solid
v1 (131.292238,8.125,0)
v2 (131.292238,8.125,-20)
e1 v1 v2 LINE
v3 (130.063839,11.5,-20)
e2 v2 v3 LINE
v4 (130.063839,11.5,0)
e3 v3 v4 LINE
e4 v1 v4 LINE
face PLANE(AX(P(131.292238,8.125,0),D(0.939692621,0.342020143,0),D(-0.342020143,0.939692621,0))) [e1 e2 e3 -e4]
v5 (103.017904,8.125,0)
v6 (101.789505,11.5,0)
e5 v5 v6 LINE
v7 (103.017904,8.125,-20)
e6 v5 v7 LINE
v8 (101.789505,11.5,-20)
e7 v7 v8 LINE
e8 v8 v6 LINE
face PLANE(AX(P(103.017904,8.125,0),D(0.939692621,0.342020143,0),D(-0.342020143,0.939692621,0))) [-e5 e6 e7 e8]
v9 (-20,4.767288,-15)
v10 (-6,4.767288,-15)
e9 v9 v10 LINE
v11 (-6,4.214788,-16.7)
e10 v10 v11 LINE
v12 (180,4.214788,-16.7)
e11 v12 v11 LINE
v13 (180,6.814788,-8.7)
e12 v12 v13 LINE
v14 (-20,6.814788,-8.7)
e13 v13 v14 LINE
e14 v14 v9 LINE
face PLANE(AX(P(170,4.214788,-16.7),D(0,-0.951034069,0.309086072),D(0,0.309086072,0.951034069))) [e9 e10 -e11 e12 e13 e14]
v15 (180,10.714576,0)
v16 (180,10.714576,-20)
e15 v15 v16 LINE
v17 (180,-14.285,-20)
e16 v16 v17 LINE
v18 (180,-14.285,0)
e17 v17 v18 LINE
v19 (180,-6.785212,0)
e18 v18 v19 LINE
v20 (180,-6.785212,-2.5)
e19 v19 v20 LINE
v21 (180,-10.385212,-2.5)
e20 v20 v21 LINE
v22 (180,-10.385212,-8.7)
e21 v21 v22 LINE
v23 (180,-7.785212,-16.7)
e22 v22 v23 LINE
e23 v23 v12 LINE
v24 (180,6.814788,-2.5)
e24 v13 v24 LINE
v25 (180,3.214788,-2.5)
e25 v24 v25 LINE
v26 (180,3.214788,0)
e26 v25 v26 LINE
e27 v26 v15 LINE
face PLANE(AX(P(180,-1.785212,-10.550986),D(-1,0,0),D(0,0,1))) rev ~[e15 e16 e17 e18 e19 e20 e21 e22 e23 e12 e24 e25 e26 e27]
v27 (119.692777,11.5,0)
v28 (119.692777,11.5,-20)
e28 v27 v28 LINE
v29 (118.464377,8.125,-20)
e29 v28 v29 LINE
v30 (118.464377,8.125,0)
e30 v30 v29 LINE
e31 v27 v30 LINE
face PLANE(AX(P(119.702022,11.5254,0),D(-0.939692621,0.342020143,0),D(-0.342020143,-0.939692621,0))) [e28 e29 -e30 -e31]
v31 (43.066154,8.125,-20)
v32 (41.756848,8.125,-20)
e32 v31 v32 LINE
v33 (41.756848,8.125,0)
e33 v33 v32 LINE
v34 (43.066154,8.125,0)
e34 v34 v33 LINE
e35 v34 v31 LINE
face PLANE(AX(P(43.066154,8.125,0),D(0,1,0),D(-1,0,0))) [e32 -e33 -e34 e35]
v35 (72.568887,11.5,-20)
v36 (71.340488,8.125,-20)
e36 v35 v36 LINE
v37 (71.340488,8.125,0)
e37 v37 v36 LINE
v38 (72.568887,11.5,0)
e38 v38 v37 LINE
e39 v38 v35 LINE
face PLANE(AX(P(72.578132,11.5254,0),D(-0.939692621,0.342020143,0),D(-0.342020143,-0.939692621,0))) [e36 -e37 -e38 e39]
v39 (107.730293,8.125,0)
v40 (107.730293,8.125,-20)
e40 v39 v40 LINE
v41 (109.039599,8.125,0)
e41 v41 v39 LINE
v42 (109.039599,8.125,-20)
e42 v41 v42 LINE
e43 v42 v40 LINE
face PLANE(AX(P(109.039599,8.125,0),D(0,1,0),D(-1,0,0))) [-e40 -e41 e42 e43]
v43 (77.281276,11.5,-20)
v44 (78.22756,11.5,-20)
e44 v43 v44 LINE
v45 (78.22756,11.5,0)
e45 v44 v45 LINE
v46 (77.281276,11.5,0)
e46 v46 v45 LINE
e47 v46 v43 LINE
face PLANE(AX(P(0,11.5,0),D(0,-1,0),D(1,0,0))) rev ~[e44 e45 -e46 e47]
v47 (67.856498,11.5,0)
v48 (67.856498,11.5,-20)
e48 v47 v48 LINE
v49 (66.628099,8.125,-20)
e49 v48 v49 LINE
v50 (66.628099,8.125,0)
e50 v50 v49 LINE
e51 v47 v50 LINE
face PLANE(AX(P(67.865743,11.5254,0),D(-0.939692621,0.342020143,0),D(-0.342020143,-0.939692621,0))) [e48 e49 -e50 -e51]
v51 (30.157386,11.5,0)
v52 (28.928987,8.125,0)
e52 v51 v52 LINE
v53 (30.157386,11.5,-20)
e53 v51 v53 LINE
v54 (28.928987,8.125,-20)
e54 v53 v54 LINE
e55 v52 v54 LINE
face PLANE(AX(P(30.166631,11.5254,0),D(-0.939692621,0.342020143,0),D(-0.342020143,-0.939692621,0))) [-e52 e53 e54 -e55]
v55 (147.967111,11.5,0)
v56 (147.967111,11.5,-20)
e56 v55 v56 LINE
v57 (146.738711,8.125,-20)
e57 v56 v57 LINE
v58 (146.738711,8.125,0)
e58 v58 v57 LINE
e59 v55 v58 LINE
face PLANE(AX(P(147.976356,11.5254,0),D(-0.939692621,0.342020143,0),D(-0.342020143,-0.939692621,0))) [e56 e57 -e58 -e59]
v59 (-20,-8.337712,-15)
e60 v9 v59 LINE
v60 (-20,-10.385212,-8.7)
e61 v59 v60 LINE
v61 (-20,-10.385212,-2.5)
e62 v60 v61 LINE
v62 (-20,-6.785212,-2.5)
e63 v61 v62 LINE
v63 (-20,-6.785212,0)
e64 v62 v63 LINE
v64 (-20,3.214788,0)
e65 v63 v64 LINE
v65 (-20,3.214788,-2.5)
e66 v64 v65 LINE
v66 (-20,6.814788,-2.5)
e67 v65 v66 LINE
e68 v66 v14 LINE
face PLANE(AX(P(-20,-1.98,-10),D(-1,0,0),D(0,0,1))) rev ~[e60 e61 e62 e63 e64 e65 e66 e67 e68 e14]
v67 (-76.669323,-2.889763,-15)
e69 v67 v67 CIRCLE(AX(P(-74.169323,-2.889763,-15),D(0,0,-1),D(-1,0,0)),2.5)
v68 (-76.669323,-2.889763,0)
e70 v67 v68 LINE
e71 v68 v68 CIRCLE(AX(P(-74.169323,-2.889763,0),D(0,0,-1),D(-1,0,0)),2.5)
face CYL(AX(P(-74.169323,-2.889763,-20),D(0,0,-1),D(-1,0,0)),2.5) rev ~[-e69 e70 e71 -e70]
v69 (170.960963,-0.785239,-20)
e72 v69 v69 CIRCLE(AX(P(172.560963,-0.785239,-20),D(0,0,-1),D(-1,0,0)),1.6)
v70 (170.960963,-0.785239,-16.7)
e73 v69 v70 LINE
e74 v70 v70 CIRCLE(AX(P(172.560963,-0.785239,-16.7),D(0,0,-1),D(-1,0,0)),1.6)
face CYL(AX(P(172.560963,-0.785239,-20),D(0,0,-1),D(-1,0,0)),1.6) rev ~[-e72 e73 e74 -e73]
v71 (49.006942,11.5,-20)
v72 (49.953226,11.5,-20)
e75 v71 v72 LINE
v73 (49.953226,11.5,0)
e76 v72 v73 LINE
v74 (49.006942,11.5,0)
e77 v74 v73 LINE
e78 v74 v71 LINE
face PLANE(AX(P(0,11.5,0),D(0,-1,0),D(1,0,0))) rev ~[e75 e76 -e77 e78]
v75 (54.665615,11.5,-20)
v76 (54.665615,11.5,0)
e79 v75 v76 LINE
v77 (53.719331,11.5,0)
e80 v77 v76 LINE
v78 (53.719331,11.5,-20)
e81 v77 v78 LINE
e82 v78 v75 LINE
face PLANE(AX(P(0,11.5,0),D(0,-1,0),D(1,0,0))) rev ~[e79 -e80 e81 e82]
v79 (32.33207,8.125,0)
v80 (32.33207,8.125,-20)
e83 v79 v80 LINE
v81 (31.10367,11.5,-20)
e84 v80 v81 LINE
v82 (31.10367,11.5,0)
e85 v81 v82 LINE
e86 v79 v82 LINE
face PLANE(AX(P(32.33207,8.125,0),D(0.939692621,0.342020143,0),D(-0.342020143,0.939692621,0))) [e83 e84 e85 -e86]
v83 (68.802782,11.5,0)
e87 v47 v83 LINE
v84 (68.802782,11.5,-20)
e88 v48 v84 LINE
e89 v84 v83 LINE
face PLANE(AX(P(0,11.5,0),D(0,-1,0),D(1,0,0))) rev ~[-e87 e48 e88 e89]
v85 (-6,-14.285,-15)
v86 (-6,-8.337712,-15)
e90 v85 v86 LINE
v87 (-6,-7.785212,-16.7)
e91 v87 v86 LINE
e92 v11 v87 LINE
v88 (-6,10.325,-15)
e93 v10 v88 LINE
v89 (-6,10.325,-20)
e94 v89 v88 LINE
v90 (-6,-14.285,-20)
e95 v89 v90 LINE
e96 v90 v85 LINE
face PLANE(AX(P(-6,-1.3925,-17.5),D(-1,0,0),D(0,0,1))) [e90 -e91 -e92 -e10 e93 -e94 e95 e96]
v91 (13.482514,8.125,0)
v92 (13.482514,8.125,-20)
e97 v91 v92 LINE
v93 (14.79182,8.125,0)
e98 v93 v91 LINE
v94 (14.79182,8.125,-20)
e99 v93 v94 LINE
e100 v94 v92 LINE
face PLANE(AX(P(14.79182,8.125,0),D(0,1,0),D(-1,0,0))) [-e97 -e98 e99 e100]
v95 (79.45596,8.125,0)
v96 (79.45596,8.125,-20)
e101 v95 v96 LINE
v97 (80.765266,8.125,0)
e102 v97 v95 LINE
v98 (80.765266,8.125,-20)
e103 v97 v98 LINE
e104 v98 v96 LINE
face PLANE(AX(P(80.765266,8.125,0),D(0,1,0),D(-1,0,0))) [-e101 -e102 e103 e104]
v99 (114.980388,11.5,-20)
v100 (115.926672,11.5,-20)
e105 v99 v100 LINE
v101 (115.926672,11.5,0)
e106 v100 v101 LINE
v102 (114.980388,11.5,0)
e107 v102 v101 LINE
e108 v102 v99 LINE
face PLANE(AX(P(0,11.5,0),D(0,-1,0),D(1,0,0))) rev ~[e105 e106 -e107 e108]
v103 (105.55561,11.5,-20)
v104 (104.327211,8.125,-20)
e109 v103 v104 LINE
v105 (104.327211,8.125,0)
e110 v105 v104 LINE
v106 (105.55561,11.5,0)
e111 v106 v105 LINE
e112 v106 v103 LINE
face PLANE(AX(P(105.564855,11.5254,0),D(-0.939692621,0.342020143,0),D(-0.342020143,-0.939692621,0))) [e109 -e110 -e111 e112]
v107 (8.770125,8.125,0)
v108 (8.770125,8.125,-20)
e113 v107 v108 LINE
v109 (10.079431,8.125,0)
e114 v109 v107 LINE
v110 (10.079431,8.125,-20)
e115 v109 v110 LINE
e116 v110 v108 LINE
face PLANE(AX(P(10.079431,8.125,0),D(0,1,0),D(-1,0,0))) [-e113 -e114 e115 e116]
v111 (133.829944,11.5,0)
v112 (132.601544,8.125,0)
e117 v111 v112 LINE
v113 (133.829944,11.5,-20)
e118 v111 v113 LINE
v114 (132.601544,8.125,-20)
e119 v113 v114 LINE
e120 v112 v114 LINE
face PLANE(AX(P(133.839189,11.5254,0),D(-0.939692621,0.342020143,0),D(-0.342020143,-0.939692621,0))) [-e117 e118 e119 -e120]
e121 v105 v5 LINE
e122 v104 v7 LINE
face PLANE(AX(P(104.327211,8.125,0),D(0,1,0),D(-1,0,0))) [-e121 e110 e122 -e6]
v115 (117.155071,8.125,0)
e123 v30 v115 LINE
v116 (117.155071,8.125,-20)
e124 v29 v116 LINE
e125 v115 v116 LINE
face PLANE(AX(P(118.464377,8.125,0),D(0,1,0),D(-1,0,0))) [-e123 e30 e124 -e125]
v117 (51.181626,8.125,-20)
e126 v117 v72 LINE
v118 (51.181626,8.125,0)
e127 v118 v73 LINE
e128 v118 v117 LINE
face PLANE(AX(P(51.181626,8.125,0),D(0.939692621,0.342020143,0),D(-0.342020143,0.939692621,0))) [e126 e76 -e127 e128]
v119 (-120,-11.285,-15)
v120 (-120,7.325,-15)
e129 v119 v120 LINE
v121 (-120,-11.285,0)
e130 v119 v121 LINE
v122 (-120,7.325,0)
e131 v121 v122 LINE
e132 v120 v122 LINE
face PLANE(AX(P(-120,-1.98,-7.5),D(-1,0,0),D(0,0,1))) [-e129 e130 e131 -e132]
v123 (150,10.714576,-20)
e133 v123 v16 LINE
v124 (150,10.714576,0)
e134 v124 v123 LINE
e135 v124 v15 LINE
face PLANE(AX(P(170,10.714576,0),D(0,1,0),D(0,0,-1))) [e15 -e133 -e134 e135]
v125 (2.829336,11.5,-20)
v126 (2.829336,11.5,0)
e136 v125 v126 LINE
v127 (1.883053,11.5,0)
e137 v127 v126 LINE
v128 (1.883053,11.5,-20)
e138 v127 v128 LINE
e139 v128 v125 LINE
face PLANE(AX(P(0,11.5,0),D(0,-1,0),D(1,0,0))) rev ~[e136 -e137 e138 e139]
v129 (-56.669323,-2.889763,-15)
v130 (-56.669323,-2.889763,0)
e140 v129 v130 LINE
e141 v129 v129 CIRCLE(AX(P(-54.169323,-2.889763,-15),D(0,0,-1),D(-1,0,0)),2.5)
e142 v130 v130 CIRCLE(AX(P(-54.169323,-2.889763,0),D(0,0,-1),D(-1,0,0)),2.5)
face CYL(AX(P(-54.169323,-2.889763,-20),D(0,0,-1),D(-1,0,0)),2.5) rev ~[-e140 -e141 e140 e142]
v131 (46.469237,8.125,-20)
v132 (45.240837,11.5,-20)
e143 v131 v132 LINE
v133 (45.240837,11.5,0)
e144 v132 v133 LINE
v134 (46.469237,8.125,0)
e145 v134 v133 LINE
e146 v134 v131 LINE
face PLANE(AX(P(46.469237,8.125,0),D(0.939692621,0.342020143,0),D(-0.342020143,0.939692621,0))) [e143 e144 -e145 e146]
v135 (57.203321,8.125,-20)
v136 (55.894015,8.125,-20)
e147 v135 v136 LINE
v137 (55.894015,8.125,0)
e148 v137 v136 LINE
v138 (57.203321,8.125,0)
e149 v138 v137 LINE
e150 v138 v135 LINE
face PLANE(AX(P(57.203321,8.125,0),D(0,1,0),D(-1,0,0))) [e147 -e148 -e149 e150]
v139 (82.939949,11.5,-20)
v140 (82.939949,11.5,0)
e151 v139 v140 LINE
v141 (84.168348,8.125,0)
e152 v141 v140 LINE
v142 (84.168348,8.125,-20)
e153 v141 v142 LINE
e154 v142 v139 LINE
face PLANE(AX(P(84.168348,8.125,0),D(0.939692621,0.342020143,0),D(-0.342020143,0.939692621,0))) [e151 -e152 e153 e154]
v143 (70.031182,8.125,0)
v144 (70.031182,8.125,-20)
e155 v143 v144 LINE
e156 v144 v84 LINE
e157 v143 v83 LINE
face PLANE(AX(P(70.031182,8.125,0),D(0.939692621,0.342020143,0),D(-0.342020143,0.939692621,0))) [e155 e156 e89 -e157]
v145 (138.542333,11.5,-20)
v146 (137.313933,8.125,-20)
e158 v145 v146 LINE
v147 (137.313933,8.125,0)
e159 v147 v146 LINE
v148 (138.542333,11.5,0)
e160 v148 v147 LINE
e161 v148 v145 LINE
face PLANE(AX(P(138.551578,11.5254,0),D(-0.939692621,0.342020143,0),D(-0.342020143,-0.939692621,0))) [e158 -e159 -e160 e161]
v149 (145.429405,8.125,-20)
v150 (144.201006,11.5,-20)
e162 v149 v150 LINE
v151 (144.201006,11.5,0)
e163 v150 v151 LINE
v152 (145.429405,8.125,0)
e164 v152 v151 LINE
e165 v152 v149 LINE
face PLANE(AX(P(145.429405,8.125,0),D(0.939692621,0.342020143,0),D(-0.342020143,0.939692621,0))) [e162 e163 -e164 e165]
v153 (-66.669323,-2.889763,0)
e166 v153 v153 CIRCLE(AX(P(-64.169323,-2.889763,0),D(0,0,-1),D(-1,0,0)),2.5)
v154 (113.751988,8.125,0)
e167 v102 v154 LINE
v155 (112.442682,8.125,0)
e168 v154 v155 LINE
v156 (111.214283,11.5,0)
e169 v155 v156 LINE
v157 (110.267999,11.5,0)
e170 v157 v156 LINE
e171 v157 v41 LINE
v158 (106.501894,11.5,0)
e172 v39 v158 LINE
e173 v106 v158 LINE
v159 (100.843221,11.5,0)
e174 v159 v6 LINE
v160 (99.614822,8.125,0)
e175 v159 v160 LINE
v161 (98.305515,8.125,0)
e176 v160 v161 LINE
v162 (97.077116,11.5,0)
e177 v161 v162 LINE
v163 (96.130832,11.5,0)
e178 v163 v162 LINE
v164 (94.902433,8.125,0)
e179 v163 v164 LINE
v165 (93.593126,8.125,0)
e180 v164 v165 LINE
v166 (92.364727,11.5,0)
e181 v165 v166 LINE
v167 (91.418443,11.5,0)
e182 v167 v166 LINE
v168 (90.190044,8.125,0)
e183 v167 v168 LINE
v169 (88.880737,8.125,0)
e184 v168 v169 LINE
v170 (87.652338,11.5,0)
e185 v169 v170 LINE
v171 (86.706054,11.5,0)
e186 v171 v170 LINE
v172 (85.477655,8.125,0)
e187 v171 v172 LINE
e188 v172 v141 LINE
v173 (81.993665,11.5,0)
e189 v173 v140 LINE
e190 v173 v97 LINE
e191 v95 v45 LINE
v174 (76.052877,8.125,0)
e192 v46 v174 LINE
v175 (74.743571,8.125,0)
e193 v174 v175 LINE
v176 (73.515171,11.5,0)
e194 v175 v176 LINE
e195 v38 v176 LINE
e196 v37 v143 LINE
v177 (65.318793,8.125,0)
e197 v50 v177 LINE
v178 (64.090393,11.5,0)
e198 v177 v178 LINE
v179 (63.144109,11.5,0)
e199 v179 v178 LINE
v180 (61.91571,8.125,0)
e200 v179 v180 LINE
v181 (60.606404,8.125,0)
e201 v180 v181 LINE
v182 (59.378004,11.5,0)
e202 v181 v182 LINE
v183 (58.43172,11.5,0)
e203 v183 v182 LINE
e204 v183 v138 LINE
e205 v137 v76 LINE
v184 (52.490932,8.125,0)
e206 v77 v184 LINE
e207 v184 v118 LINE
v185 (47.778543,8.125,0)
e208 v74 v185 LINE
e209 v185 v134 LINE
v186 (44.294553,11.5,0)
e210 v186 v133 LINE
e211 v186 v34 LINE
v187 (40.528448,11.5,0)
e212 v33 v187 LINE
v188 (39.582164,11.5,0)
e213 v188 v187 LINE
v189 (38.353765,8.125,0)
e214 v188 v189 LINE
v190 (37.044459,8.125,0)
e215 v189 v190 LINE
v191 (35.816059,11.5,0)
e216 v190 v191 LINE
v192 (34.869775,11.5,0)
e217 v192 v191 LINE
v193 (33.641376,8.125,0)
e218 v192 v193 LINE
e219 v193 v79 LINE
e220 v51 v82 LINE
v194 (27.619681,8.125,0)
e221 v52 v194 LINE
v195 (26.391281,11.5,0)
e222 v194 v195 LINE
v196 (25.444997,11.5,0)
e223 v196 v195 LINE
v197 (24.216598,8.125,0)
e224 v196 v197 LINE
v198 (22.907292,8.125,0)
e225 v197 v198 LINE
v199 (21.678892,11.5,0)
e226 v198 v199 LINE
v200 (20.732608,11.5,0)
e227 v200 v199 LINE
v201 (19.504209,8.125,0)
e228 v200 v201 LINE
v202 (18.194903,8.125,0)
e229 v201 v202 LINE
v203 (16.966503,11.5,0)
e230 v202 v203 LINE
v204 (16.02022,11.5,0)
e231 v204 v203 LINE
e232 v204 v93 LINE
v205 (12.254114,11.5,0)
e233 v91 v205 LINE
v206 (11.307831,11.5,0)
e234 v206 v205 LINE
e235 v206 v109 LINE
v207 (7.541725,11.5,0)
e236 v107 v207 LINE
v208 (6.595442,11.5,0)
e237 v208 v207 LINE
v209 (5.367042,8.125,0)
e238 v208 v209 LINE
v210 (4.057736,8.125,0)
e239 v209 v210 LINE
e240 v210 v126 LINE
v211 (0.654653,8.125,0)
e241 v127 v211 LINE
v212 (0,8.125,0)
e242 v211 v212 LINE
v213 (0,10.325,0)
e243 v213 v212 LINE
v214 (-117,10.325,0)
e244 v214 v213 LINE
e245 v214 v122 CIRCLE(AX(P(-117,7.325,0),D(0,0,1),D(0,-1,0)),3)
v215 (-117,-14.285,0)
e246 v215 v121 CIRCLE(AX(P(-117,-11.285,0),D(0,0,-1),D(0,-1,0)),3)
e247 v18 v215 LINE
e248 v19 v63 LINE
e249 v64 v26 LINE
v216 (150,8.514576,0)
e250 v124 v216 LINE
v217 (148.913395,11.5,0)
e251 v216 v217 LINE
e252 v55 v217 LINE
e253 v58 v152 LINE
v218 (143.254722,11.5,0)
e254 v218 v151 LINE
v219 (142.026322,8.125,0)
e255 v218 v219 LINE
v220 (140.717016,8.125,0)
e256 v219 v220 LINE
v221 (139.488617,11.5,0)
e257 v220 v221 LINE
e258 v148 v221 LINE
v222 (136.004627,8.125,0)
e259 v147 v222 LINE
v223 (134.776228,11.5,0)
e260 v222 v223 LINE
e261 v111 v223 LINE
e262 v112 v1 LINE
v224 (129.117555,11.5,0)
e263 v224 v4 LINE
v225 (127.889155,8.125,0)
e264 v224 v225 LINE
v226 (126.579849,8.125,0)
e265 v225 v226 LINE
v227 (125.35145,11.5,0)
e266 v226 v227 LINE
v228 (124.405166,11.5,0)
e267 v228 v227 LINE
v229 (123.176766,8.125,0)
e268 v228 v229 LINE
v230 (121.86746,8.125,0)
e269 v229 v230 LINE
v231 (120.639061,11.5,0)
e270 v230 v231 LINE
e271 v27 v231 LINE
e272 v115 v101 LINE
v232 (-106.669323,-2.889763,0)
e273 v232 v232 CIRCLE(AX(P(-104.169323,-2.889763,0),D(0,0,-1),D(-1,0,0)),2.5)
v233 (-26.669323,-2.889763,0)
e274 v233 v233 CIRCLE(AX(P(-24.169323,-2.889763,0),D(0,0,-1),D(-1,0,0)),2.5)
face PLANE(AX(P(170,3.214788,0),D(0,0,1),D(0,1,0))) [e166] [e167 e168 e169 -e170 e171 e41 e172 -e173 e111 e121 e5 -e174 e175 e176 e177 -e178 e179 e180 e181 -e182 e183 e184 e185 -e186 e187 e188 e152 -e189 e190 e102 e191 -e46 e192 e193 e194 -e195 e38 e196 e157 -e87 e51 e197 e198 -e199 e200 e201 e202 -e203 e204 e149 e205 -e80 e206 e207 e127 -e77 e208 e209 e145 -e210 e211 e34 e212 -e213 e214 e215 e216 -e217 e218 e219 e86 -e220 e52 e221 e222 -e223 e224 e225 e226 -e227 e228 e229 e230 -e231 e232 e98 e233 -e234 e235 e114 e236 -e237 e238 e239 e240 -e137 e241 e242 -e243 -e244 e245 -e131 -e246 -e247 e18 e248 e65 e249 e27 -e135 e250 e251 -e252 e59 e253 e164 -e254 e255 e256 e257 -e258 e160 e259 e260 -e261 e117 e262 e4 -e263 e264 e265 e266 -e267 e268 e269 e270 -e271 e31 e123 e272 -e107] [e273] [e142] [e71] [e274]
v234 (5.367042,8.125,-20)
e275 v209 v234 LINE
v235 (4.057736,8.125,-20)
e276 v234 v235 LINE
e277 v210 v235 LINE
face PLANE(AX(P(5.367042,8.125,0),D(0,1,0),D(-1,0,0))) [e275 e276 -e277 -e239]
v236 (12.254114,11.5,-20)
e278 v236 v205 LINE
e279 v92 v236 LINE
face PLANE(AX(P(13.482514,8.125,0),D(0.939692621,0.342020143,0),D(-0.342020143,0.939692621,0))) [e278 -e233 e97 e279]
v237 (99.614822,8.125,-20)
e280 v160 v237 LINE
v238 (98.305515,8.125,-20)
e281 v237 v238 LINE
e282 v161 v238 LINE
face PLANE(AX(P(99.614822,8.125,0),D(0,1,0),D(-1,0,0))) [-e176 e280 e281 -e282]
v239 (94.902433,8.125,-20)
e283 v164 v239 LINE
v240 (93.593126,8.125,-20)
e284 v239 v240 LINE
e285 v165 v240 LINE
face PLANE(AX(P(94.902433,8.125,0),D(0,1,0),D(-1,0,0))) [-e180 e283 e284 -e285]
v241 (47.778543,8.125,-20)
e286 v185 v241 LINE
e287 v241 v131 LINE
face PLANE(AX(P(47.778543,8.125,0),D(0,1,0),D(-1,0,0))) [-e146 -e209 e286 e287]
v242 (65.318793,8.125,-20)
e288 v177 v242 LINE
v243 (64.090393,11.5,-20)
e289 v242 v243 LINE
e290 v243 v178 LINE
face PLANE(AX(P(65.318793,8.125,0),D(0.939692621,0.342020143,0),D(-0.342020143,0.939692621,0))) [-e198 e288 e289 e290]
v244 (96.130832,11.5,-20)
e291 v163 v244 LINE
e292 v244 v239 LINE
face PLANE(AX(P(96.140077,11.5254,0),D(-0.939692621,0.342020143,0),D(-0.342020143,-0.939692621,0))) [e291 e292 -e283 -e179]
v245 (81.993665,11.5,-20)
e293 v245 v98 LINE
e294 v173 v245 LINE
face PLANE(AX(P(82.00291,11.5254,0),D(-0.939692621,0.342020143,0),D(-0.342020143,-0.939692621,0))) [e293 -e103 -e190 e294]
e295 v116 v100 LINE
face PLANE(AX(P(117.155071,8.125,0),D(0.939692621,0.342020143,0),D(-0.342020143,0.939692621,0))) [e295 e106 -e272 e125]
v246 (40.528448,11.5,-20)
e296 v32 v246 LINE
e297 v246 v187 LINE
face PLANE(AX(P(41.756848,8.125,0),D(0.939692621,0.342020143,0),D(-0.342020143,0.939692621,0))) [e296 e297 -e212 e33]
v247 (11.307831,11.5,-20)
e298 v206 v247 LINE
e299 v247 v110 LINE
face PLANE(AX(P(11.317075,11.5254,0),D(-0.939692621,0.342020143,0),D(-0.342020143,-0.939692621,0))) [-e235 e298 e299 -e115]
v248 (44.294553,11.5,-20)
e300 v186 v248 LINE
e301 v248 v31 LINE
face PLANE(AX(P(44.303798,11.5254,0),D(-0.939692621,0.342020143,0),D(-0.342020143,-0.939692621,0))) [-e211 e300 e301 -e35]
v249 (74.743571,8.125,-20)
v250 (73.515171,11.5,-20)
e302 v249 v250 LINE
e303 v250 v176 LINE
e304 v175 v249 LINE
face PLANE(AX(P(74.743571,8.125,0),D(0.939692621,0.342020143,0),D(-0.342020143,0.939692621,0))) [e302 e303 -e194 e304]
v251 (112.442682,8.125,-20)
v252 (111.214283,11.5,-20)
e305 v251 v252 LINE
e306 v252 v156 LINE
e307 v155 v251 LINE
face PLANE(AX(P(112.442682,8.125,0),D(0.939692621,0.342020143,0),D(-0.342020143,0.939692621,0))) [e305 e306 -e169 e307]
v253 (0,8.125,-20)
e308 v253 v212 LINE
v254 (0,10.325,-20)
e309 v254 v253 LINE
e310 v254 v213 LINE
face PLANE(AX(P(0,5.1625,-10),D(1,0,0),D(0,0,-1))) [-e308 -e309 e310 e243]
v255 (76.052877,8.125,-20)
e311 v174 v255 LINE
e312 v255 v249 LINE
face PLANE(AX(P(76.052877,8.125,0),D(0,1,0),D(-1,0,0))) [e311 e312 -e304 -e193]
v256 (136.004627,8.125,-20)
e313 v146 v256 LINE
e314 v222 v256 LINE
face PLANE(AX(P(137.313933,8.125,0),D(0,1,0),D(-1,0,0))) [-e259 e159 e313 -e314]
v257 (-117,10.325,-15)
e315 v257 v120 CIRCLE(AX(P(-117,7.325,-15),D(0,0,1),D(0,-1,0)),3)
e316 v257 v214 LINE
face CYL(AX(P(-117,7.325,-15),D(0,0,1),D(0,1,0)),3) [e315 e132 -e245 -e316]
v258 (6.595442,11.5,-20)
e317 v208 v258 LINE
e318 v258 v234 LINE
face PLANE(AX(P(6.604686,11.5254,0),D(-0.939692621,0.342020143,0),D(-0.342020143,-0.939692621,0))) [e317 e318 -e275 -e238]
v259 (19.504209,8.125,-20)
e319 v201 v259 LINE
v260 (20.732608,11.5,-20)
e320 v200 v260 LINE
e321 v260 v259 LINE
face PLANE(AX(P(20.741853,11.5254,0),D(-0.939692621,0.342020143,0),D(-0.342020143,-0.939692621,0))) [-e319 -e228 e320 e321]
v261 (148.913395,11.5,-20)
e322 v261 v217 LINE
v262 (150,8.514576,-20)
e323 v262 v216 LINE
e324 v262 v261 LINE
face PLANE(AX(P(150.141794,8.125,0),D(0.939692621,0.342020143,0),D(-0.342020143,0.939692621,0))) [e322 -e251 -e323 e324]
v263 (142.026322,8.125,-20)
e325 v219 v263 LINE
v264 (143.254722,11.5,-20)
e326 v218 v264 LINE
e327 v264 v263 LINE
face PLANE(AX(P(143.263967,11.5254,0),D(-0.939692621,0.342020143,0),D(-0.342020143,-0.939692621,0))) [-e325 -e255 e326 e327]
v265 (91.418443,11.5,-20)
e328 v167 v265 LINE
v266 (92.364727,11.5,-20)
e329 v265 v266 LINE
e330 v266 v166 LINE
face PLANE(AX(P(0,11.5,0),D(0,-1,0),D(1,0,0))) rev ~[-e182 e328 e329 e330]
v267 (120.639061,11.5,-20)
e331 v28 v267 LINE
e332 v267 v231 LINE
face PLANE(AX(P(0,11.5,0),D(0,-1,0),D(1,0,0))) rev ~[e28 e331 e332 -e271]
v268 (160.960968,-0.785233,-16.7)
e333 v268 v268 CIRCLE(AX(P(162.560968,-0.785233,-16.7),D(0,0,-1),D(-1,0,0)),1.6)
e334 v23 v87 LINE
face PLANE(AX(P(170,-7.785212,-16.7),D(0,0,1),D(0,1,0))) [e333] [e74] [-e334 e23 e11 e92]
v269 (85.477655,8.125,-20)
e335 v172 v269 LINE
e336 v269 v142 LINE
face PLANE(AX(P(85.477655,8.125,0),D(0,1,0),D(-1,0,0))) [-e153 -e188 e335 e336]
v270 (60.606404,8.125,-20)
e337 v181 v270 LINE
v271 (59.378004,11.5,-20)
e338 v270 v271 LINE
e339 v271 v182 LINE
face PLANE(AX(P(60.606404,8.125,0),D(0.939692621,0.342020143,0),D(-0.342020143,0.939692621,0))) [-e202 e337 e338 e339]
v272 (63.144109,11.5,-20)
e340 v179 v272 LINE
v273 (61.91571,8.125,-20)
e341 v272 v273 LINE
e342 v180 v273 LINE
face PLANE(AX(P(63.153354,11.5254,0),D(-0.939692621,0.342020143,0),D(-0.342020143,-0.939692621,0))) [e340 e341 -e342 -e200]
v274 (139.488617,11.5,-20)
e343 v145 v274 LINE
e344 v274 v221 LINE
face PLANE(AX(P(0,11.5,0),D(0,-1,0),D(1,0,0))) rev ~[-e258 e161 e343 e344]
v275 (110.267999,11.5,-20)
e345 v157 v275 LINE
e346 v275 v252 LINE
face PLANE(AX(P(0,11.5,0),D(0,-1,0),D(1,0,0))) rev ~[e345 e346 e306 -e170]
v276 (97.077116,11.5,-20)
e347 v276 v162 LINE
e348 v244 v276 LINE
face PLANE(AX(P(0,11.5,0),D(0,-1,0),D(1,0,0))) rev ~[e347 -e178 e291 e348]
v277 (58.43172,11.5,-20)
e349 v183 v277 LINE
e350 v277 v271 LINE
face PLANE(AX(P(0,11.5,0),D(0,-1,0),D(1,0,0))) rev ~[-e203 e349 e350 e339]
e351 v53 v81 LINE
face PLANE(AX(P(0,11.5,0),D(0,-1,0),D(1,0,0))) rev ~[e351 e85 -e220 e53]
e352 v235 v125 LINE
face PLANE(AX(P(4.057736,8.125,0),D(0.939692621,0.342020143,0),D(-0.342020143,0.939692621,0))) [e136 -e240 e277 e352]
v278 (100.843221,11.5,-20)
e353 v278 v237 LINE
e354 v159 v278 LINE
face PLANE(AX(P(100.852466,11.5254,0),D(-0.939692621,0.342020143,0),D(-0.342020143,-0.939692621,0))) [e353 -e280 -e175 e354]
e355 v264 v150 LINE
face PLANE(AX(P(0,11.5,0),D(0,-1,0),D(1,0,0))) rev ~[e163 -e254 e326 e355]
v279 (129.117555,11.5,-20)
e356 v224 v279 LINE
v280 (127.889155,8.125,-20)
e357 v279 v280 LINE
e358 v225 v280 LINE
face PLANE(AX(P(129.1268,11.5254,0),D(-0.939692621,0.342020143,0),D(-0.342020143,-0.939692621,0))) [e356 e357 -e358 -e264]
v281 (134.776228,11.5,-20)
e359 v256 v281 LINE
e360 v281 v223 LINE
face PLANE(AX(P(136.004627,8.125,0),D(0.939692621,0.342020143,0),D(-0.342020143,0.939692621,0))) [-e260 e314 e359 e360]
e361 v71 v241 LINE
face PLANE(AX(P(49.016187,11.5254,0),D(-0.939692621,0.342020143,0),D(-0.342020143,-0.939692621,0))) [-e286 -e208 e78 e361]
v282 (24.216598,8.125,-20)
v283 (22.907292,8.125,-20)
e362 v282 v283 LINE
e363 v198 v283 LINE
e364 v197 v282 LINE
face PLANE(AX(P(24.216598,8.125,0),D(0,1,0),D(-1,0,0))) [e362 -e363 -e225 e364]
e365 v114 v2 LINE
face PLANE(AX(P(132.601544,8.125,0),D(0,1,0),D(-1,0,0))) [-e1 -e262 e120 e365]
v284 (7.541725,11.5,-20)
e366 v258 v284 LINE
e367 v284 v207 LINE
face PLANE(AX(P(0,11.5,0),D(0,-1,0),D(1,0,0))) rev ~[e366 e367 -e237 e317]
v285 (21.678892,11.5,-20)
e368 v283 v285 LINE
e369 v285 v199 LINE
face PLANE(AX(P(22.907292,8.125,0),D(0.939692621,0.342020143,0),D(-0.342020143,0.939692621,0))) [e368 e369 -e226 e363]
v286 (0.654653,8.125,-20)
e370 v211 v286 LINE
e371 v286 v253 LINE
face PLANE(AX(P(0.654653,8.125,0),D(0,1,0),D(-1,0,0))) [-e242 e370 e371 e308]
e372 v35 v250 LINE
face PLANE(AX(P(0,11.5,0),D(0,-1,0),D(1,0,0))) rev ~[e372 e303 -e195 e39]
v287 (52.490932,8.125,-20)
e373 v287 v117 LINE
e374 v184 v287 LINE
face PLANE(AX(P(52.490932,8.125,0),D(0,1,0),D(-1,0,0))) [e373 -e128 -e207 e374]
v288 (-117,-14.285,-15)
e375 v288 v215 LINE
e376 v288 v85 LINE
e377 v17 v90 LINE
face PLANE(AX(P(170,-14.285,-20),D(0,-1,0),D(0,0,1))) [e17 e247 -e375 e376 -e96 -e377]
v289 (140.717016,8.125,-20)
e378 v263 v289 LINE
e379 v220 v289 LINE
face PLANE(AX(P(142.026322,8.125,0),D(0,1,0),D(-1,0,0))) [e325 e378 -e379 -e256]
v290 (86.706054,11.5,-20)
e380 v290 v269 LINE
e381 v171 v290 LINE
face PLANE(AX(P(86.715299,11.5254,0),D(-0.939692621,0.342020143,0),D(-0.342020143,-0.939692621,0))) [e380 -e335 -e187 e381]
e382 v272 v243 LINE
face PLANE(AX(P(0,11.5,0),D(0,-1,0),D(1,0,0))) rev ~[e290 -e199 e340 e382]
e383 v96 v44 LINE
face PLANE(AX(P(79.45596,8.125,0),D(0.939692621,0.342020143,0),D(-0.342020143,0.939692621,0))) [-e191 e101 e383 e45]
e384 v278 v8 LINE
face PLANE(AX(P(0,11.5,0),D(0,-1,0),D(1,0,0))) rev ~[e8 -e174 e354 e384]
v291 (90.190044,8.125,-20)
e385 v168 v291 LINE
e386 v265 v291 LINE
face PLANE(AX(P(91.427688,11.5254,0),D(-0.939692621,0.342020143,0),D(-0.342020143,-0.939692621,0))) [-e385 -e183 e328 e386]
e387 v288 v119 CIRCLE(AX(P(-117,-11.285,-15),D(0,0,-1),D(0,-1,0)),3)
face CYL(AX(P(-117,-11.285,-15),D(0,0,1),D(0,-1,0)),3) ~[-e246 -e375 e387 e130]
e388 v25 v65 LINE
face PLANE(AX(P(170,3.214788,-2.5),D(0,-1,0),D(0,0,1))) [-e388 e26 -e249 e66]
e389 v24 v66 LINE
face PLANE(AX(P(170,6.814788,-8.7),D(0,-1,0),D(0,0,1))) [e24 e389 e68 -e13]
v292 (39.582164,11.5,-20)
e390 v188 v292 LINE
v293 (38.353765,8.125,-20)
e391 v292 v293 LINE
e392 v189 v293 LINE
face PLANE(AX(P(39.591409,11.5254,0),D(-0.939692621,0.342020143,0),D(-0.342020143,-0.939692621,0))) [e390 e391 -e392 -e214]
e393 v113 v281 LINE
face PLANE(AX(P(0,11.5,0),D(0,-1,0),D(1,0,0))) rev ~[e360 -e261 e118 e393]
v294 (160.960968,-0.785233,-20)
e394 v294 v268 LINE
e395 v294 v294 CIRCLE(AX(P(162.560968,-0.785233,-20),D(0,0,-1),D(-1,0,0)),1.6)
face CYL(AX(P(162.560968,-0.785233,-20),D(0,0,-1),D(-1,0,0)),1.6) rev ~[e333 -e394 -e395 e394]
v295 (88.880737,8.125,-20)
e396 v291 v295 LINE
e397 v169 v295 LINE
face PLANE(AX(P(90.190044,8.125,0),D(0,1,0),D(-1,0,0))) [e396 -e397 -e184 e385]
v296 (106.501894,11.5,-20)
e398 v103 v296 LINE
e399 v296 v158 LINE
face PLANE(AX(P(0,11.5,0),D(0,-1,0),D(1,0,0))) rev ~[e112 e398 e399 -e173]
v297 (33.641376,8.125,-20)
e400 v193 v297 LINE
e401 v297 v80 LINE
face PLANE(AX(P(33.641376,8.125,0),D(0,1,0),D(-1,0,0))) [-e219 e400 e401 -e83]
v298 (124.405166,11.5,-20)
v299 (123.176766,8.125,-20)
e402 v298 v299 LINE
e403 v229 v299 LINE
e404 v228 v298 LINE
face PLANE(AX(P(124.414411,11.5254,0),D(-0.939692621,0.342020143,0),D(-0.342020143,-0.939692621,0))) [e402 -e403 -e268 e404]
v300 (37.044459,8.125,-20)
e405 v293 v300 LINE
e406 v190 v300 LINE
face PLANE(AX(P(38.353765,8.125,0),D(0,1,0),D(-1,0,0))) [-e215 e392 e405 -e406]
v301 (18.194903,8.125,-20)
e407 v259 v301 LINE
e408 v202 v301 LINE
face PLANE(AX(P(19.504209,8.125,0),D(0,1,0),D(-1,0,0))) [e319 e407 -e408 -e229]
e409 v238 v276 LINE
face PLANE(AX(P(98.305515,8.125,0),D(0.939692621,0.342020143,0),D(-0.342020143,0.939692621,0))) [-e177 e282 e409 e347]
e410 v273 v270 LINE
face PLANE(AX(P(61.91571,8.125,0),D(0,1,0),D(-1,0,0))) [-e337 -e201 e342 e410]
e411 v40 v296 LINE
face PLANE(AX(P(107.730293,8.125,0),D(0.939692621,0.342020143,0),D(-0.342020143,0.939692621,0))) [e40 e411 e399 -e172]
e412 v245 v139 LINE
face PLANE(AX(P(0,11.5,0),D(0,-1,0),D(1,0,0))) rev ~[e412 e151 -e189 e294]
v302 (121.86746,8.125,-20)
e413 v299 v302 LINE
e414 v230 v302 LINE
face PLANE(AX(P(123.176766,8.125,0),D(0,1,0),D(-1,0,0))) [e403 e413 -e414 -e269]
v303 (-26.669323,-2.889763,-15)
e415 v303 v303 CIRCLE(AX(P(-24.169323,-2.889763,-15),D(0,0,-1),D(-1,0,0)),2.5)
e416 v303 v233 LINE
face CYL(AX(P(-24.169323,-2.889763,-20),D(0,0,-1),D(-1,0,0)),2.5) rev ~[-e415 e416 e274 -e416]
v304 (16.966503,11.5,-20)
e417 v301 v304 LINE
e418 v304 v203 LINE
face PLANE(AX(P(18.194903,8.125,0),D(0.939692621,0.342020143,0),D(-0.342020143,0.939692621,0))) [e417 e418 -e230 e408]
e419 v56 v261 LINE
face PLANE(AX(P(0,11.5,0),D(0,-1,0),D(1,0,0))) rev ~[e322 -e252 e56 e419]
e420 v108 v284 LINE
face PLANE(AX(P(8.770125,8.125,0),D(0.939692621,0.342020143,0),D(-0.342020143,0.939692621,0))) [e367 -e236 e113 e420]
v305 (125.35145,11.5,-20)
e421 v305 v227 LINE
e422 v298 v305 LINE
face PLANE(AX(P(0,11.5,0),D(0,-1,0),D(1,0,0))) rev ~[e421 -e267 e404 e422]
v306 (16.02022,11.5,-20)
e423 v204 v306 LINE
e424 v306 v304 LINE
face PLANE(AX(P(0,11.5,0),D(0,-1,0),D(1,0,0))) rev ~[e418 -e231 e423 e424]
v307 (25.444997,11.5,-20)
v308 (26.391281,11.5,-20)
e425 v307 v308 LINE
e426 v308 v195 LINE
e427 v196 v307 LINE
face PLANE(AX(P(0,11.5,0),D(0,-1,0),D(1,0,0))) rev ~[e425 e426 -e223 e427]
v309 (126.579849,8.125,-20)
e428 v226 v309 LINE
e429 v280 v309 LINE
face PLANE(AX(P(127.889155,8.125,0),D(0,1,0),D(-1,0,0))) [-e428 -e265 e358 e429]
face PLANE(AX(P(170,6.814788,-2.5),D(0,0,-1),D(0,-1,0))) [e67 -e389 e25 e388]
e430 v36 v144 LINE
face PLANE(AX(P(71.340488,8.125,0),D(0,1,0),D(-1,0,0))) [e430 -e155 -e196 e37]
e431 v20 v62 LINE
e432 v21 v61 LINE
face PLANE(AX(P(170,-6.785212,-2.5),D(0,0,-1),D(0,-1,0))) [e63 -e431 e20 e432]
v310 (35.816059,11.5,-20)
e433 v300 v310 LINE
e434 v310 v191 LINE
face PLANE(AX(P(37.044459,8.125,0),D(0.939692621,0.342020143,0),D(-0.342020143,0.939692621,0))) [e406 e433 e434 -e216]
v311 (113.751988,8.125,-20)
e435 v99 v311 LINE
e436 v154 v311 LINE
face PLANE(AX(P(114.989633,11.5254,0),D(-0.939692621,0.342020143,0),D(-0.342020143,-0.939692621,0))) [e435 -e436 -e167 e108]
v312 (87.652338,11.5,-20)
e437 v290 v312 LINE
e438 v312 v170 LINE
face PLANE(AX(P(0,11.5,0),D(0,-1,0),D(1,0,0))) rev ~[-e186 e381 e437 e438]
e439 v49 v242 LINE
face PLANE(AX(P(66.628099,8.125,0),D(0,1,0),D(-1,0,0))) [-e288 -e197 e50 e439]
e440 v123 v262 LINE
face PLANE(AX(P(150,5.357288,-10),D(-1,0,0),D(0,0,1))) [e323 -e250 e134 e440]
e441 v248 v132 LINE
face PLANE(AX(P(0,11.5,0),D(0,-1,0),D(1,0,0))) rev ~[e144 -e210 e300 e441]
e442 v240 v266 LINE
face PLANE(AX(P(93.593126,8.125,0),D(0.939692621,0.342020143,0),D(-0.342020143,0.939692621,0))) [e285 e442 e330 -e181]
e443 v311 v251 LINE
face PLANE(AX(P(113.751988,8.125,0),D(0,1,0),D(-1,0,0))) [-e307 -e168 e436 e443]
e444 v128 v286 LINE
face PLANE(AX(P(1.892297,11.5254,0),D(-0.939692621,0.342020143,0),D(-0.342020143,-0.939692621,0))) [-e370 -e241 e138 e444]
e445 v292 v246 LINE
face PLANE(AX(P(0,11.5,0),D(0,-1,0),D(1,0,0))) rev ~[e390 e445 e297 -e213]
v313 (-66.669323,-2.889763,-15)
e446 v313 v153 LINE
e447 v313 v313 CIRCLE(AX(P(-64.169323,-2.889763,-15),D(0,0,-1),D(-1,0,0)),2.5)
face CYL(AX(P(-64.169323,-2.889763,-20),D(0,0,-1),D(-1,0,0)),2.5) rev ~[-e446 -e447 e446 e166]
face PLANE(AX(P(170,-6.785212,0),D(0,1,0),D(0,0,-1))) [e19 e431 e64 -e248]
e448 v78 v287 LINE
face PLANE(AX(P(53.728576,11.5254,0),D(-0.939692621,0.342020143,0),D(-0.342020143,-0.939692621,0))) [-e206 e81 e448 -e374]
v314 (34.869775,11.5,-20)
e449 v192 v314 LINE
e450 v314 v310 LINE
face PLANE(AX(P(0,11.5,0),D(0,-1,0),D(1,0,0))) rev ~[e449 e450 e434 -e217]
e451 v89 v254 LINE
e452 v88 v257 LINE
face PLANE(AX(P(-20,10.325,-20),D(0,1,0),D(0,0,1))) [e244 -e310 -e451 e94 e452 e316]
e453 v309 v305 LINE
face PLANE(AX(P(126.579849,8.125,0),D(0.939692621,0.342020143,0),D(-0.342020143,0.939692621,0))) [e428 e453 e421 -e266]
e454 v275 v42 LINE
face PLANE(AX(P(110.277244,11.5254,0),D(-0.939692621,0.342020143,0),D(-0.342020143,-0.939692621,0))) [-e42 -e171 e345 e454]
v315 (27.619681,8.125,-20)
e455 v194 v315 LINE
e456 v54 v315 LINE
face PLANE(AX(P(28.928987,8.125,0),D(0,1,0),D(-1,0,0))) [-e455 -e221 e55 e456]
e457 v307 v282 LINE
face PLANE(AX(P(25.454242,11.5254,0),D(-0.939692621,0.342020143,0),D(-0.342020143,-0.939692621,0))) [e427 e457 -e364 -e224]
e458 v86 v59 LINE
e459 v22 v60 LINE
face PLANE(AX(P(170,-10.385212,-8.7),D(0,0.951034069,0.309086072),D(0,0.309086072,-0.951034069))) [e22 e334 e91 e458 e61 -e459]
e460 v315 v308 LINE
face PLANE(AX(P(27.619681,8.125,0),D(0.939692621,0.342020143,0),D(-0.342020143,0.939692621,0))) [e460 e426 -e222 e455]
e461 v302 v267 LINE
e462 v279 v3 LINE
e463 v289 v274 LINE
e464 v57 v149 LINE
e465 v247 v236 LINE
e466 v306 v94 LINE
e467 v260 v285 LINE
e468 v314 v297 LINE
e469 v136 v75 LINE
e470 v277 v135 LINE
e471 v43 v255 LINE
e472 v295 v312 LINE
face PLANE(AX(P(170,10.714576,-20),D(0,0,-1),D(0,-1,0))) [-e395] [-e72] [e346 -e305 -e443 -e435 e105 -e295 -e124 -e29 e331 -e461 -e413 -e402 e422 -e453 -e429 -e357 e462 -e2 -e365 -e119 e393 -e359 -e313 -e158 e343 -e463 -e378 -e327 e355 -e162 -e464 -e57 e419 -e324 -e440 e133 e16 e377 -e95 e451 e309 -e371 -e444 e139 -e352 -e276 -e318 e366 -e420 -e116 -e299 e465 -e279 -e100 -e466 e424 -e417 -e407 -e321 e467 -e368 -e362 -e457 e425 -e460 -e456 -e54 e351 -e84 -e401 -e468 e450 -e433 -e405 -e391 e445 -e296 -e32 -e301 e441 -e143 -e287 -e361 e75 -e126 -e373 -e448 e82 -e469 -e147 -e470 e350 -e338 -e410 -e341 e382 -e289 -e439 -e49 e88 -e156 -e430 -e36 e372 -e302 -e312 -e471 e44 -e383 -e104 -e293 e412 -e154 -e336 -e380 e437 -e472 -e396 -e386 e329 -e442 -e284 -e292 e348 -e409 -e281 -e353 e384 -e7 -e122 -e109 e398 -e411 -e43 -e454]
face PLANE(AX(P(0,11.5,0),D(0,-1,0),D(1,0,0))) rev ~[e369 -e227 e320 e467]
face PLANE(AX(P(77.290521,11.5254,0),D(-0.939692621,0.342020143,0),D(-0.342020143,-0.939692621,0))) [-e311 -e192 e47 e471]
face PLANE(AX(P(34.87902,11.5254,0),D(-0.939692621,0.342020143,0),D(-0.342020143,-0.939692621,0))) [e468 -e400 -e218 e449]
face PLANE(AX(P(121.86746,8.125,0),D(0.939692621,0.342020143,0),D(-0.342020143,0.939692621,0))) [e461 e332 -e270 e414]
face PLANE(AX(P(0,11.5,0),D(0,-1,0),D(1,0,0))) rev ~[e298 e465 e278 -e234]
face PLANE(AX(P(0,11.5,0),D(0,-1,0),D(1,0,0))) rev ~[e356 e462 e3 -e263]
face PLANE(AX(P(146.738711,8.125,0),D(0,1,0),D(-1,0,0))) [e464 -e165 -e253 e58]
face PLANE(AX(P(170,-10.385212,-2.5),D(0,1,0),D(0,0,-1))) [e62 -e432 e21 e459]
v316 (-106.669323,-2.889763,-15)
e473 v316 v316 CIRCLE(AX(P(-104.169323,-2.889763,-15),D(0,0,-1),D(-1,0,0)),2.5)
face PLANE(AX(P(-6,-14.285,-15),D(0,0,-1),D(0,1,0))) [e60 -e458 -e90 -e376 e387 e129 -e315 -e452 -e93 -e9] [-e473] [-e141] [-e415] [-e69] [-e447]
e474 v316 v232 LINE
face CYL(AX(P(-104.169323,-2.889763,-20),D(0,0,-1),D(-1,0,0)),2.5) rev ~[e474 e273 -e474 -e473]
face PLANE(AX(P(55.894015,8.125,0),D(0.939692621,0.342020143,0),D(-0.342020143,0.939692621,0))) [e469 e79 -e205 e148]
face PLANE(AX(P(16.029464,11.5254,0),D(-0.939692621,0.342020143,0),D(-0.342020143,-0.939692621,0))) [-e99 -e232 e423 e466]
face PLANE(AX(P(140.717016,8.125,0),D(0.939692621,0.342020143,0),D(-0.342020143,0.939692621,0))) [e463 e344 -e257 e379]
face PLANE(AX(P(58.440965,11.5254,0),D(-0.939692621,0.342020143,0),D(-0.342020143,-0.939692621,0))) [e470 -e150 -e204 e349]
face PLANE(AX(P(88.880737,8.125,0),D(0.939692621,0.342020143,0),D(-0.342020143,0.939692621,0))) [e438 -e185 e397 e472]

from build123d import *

# Parameters (mm, degrees)
BLANKSKE_W              = 150
BLANKSKE_H              = 11.5
BLANK_DEPTH             = 20
TOOTHCUTSIM_DEPTH       = 152.763796737
TEETHCUTS_COUNT         = 33
TEETHCUTS_PITCH         = 4.712388975
BOSS_EXTRUDE1_DEPTH     = 20
BOSS_EXTRUDE2_DEPTH     = 20
SKETCH3_W               = 190
SKETCH3_H               = 20
BOSS_EXTRUDE3_DEPTH     = 14.285
CUT_EXTRUDE1_DEPTH      = 192.583040024
SKETCH6_W               = 20
SKETCH6_H               = 24.61
BOSS_EXTRUDE4_DEPTH     = 140
BOSS_EXTRUDE5_DEPTH     = 10
SKETCH9_R               = 2.5
CUT_EXTRUDE2_DEPTH      = 182.670199056
CUT_EXTRUDE5_DEPTH      = 341.88716788
CUT_EXTRUDE5_DEPTH_BACK = 154
SKETCH15_W              = 2.5
SKETCH15_H              = 15
BOSS_EXTRUDE9_DEPTH     = 10
SKETCH16_R              = 2
CUT_EXTRUDE7_DEPTH      = 10
SKETCH17_W              = 15
SKETCH17_H              = 10
CUT_EXTRUDE8_DEPTH      = 177
SKETCH20_W              = 15
SKETCH20_H              = 24.61
CUT_EXTRUDE9_DEPTH      = 40
FILLET2_R               = 3
SKETCH21_R              = 1.6
CUT_EXTRUDE10_DEPTH     = 40


with BuildPart() as part:
    # BlankSke → Blank (new body)
    with BuildSketch(Plane.XY):
        with Locations((75, 5.75)):
            Rectangle(BLANKSKE_W, BLANKSKE_H)
    extrude(amount=-BLANK_DEPTH)

    # TooCutSkeSim → ToothCutSim (cut, through all)
    with BuildSketch(Plane.XY):
        Polygon((0.654653055, 8.125), (-0.654653055, 8.125), (-1.892297439, 11.5254), (1.892297439, 11.5254), align=None)
    toothcutsim = extrude(amount=-TOOTHCUTSIM_DEPTH, mode=Mode.SUBTRACT)

    # TeethCuts: ToothCutSim ×33
    with Locations(*[(i * TEETHCUTS_PITCH, 0, 0) for i in range(1, TEETHCUTS_COUNT)]):
        add(toothcutsim, mode=Mode.SUBTRACT)

    # Sketch1 → Boss-Extrude1 (add)
    with BuildSketch(Plane(origin=(150, 0, 0), x_dir=(0, 0, -1), z_dir=(1, 0, 0))):
        Polygon((0, 8.514576213), (0, 10.714576213), (20, 10.714576213), (20, 0), (0, 0), align=None)
    extrude(amount=BOSS_EXTRUDE1_DEPTH)

    # Sketch2 → Boss-Extrude2 (add)
    with BuildSketch(Plane.ZY):
        Polygon((-20, 8.125), (-20, 10.325), (0, 10.325), (0, 0), (-20, 0), align=None)
    extrude(amount=BOSS_EXTRUDE2_DEPTH)

    # Sketch3 → Boss-Extrude3 (add)
    with BuildSketch(Plane.XZ):
        with Locations((75, -10)):
            Rectangle(SKETCH3_W, SKETCH3_H)
    extrude(amount=BOSS_EXTRUDE3_DEPTH)

    # Sketch4 → Cut-Extrude1 (cut, through all)
    with BuildSketch(Plane(origin=(170, 0, 0), x_dir=(0, 0, -1), z_dir=(1, 0, 0))):
        Polygon((2.5, -6.785211894), (2.5, -10.385211894), (8.7, -10.385211894), (16.7, -7.785211894), (16.7, -1.785211894), (16.7, 4.214788106), (8.7, 6.814788106), (2.5, 6.814788106), (2.5, 3.214788106), (0, 3.214788106), (0, -1.785211894), (0, -6.785211894), align=None)
    extrude(amount=-CUT_EXTRUDE1_DEPTH, mode=Mode.SUBTRACT)

    # Sketch6 → Boss-Extrude4 (add)
    with BuildSketch(Plane.ZY.offset(20)):
        with Locations((-10, -1.98)):
            Rectangle(SKETCH6_W, SKETCH6_H)
    extrude(amount=BOSS_EXTRUDE4_DEPTH)

    # Sketch8 → Boss-Extrude5 (add)
    with BuildSketch(Plane(origin=(170, 0, 0), x_dir=(0, 0, -1), z_dir=(1, 0, 0))):
        Polygon((20, 10.714576213), (20, -14.285), (0, -14.285), (0, -6.785211894), (2.5, -6.785211894), (2.5, -10.385211894), (8.7, -10.385211894), (16.7, -7.785211894), (16.7, 4.214788106), (8.7, 6.814788106), (2.5, 6.814788106), (2.5, 3.214788106), (0, 3.214788106), (0, 10.714576213), align=None)
    extrude(amount=BOSS_EXTRUDE5_DEPTH)

    # Sketch9 → Cut-Extrude2 (cut, through all)
    with BuildSketch(Plane(origin=(0, 0, -20), x_dir=(-1, 0, 0), z_dir=(0, 0, -1))):
        with Locations((24.169323408, -2.889762756)):
            Circle(SKETCH9_R)
        with Locations((54.169323408, -2.889762756)):
            Circle(SKETCH9_R)
        with Locations((64.169323408, -2.889762756)):
            Circle(SKETCH9_R)
        with Locations((74.169323408, -2.889762756)):
            Circle(SKETCH9_R)
        with Locations((104.169323408, -2.889762756)):
            Circle(SKETCH9_R)
    extrude(amount=-CUT_EXTRUDE2_DEPTH, mode=Mode.SUBTRACT)

    # Sketch10 → Cut-Extrude5 (cut, two sides: drawn at the far end of the back side and taken through both)
    with BuildSketch(Plane.ZY.offset(160).offset(-CUT_EXTRUDE5_DEPTH_BACK)):
        Polygon((-20, -14.285), (-15, -14.285), (-15, 10.325), (-15, 11.5), (-20, 11.5), (-20, 10.325), align=None)
    extrude(amount=CUT_EXTRUDE5_DEPTH + CUT_EXTRUDE5_DEPTH_BACK, mode=Mode.SUBTRACT)

    # Sketch15 → Boss-Extrude9 (add)
    with BuildSketch(Plane.XZ.offset(14.285)):
        with Locations((-11.17642258, -7.5)):
            Rectangle(SKETCH15_W, SKETCH15_H)
    extrude(amount=BOSS_EXTRUDE9_DEPTH)

    # Sketch16 → Cut-Extrude7 (cut)
    with BuildSketch(Plane.ZY.offset(12.42642258)):
        with Locations((-11.25, -19.285)):
            Circle(SKETCH16_R)
        with Locations((-3.75, -19.285)):
            Circle(SKETCH16_R)
    extrude(amount=-CUT_EXTRUDE7_DEPTH, mode=Mode.SUBTRACT)

    # Sketch17 → Cut-Extrude8 (cut)
    with BuildSketch(Plane.ZY.offset(160)):
        with Locations((-7.5, -19.285)):
            Rectangle(SKETCH17_W, SKETCH17_H)
    extrude(amount=-CUT_EXTRUDE8_DEPTH, mode=Mode.SUBTRACT)

    # Sketch20 → Cut-Extrude9 (cut)
    with BuildSketch(Plane.ZY.offset(160)):
        with Locations((-7.5, -1.98)):
            Rectangle(SKETCH20_W, SKETCH20_H)
    extrude(amount=-CUT_EXTRUDE9_DEPTH, mode=Mode.SUBTRACT)

    # Fillet2
    fillet2_edges = [part.edges().sort_by_distance(p)[0] for p in [
        (-120, -14.285, -7.5),
        (-120, 10.325, -7.5),
    ]]
    fillet(fillet2_edges, radius=FILLET2_R)

    # Sketch21 → Cut-Extrude10 (cut)
    with BuildSketch(Plane(origin=(0, 0, -20), x_dir=(-1, 0, 0), z_dir=(0, 0, -1))):
        with Locations((-172.560963077, -0.785239005)):
            Circle(SKETCH21_R)
        with Locations((-162.560967794, -0.785233109)):
            Circle(SKETCH21_R)
    extrude(amount=-CUT_EXTRUDE10_DEPTH, mode=Mode.SUBTRACT)


solid = part.part
